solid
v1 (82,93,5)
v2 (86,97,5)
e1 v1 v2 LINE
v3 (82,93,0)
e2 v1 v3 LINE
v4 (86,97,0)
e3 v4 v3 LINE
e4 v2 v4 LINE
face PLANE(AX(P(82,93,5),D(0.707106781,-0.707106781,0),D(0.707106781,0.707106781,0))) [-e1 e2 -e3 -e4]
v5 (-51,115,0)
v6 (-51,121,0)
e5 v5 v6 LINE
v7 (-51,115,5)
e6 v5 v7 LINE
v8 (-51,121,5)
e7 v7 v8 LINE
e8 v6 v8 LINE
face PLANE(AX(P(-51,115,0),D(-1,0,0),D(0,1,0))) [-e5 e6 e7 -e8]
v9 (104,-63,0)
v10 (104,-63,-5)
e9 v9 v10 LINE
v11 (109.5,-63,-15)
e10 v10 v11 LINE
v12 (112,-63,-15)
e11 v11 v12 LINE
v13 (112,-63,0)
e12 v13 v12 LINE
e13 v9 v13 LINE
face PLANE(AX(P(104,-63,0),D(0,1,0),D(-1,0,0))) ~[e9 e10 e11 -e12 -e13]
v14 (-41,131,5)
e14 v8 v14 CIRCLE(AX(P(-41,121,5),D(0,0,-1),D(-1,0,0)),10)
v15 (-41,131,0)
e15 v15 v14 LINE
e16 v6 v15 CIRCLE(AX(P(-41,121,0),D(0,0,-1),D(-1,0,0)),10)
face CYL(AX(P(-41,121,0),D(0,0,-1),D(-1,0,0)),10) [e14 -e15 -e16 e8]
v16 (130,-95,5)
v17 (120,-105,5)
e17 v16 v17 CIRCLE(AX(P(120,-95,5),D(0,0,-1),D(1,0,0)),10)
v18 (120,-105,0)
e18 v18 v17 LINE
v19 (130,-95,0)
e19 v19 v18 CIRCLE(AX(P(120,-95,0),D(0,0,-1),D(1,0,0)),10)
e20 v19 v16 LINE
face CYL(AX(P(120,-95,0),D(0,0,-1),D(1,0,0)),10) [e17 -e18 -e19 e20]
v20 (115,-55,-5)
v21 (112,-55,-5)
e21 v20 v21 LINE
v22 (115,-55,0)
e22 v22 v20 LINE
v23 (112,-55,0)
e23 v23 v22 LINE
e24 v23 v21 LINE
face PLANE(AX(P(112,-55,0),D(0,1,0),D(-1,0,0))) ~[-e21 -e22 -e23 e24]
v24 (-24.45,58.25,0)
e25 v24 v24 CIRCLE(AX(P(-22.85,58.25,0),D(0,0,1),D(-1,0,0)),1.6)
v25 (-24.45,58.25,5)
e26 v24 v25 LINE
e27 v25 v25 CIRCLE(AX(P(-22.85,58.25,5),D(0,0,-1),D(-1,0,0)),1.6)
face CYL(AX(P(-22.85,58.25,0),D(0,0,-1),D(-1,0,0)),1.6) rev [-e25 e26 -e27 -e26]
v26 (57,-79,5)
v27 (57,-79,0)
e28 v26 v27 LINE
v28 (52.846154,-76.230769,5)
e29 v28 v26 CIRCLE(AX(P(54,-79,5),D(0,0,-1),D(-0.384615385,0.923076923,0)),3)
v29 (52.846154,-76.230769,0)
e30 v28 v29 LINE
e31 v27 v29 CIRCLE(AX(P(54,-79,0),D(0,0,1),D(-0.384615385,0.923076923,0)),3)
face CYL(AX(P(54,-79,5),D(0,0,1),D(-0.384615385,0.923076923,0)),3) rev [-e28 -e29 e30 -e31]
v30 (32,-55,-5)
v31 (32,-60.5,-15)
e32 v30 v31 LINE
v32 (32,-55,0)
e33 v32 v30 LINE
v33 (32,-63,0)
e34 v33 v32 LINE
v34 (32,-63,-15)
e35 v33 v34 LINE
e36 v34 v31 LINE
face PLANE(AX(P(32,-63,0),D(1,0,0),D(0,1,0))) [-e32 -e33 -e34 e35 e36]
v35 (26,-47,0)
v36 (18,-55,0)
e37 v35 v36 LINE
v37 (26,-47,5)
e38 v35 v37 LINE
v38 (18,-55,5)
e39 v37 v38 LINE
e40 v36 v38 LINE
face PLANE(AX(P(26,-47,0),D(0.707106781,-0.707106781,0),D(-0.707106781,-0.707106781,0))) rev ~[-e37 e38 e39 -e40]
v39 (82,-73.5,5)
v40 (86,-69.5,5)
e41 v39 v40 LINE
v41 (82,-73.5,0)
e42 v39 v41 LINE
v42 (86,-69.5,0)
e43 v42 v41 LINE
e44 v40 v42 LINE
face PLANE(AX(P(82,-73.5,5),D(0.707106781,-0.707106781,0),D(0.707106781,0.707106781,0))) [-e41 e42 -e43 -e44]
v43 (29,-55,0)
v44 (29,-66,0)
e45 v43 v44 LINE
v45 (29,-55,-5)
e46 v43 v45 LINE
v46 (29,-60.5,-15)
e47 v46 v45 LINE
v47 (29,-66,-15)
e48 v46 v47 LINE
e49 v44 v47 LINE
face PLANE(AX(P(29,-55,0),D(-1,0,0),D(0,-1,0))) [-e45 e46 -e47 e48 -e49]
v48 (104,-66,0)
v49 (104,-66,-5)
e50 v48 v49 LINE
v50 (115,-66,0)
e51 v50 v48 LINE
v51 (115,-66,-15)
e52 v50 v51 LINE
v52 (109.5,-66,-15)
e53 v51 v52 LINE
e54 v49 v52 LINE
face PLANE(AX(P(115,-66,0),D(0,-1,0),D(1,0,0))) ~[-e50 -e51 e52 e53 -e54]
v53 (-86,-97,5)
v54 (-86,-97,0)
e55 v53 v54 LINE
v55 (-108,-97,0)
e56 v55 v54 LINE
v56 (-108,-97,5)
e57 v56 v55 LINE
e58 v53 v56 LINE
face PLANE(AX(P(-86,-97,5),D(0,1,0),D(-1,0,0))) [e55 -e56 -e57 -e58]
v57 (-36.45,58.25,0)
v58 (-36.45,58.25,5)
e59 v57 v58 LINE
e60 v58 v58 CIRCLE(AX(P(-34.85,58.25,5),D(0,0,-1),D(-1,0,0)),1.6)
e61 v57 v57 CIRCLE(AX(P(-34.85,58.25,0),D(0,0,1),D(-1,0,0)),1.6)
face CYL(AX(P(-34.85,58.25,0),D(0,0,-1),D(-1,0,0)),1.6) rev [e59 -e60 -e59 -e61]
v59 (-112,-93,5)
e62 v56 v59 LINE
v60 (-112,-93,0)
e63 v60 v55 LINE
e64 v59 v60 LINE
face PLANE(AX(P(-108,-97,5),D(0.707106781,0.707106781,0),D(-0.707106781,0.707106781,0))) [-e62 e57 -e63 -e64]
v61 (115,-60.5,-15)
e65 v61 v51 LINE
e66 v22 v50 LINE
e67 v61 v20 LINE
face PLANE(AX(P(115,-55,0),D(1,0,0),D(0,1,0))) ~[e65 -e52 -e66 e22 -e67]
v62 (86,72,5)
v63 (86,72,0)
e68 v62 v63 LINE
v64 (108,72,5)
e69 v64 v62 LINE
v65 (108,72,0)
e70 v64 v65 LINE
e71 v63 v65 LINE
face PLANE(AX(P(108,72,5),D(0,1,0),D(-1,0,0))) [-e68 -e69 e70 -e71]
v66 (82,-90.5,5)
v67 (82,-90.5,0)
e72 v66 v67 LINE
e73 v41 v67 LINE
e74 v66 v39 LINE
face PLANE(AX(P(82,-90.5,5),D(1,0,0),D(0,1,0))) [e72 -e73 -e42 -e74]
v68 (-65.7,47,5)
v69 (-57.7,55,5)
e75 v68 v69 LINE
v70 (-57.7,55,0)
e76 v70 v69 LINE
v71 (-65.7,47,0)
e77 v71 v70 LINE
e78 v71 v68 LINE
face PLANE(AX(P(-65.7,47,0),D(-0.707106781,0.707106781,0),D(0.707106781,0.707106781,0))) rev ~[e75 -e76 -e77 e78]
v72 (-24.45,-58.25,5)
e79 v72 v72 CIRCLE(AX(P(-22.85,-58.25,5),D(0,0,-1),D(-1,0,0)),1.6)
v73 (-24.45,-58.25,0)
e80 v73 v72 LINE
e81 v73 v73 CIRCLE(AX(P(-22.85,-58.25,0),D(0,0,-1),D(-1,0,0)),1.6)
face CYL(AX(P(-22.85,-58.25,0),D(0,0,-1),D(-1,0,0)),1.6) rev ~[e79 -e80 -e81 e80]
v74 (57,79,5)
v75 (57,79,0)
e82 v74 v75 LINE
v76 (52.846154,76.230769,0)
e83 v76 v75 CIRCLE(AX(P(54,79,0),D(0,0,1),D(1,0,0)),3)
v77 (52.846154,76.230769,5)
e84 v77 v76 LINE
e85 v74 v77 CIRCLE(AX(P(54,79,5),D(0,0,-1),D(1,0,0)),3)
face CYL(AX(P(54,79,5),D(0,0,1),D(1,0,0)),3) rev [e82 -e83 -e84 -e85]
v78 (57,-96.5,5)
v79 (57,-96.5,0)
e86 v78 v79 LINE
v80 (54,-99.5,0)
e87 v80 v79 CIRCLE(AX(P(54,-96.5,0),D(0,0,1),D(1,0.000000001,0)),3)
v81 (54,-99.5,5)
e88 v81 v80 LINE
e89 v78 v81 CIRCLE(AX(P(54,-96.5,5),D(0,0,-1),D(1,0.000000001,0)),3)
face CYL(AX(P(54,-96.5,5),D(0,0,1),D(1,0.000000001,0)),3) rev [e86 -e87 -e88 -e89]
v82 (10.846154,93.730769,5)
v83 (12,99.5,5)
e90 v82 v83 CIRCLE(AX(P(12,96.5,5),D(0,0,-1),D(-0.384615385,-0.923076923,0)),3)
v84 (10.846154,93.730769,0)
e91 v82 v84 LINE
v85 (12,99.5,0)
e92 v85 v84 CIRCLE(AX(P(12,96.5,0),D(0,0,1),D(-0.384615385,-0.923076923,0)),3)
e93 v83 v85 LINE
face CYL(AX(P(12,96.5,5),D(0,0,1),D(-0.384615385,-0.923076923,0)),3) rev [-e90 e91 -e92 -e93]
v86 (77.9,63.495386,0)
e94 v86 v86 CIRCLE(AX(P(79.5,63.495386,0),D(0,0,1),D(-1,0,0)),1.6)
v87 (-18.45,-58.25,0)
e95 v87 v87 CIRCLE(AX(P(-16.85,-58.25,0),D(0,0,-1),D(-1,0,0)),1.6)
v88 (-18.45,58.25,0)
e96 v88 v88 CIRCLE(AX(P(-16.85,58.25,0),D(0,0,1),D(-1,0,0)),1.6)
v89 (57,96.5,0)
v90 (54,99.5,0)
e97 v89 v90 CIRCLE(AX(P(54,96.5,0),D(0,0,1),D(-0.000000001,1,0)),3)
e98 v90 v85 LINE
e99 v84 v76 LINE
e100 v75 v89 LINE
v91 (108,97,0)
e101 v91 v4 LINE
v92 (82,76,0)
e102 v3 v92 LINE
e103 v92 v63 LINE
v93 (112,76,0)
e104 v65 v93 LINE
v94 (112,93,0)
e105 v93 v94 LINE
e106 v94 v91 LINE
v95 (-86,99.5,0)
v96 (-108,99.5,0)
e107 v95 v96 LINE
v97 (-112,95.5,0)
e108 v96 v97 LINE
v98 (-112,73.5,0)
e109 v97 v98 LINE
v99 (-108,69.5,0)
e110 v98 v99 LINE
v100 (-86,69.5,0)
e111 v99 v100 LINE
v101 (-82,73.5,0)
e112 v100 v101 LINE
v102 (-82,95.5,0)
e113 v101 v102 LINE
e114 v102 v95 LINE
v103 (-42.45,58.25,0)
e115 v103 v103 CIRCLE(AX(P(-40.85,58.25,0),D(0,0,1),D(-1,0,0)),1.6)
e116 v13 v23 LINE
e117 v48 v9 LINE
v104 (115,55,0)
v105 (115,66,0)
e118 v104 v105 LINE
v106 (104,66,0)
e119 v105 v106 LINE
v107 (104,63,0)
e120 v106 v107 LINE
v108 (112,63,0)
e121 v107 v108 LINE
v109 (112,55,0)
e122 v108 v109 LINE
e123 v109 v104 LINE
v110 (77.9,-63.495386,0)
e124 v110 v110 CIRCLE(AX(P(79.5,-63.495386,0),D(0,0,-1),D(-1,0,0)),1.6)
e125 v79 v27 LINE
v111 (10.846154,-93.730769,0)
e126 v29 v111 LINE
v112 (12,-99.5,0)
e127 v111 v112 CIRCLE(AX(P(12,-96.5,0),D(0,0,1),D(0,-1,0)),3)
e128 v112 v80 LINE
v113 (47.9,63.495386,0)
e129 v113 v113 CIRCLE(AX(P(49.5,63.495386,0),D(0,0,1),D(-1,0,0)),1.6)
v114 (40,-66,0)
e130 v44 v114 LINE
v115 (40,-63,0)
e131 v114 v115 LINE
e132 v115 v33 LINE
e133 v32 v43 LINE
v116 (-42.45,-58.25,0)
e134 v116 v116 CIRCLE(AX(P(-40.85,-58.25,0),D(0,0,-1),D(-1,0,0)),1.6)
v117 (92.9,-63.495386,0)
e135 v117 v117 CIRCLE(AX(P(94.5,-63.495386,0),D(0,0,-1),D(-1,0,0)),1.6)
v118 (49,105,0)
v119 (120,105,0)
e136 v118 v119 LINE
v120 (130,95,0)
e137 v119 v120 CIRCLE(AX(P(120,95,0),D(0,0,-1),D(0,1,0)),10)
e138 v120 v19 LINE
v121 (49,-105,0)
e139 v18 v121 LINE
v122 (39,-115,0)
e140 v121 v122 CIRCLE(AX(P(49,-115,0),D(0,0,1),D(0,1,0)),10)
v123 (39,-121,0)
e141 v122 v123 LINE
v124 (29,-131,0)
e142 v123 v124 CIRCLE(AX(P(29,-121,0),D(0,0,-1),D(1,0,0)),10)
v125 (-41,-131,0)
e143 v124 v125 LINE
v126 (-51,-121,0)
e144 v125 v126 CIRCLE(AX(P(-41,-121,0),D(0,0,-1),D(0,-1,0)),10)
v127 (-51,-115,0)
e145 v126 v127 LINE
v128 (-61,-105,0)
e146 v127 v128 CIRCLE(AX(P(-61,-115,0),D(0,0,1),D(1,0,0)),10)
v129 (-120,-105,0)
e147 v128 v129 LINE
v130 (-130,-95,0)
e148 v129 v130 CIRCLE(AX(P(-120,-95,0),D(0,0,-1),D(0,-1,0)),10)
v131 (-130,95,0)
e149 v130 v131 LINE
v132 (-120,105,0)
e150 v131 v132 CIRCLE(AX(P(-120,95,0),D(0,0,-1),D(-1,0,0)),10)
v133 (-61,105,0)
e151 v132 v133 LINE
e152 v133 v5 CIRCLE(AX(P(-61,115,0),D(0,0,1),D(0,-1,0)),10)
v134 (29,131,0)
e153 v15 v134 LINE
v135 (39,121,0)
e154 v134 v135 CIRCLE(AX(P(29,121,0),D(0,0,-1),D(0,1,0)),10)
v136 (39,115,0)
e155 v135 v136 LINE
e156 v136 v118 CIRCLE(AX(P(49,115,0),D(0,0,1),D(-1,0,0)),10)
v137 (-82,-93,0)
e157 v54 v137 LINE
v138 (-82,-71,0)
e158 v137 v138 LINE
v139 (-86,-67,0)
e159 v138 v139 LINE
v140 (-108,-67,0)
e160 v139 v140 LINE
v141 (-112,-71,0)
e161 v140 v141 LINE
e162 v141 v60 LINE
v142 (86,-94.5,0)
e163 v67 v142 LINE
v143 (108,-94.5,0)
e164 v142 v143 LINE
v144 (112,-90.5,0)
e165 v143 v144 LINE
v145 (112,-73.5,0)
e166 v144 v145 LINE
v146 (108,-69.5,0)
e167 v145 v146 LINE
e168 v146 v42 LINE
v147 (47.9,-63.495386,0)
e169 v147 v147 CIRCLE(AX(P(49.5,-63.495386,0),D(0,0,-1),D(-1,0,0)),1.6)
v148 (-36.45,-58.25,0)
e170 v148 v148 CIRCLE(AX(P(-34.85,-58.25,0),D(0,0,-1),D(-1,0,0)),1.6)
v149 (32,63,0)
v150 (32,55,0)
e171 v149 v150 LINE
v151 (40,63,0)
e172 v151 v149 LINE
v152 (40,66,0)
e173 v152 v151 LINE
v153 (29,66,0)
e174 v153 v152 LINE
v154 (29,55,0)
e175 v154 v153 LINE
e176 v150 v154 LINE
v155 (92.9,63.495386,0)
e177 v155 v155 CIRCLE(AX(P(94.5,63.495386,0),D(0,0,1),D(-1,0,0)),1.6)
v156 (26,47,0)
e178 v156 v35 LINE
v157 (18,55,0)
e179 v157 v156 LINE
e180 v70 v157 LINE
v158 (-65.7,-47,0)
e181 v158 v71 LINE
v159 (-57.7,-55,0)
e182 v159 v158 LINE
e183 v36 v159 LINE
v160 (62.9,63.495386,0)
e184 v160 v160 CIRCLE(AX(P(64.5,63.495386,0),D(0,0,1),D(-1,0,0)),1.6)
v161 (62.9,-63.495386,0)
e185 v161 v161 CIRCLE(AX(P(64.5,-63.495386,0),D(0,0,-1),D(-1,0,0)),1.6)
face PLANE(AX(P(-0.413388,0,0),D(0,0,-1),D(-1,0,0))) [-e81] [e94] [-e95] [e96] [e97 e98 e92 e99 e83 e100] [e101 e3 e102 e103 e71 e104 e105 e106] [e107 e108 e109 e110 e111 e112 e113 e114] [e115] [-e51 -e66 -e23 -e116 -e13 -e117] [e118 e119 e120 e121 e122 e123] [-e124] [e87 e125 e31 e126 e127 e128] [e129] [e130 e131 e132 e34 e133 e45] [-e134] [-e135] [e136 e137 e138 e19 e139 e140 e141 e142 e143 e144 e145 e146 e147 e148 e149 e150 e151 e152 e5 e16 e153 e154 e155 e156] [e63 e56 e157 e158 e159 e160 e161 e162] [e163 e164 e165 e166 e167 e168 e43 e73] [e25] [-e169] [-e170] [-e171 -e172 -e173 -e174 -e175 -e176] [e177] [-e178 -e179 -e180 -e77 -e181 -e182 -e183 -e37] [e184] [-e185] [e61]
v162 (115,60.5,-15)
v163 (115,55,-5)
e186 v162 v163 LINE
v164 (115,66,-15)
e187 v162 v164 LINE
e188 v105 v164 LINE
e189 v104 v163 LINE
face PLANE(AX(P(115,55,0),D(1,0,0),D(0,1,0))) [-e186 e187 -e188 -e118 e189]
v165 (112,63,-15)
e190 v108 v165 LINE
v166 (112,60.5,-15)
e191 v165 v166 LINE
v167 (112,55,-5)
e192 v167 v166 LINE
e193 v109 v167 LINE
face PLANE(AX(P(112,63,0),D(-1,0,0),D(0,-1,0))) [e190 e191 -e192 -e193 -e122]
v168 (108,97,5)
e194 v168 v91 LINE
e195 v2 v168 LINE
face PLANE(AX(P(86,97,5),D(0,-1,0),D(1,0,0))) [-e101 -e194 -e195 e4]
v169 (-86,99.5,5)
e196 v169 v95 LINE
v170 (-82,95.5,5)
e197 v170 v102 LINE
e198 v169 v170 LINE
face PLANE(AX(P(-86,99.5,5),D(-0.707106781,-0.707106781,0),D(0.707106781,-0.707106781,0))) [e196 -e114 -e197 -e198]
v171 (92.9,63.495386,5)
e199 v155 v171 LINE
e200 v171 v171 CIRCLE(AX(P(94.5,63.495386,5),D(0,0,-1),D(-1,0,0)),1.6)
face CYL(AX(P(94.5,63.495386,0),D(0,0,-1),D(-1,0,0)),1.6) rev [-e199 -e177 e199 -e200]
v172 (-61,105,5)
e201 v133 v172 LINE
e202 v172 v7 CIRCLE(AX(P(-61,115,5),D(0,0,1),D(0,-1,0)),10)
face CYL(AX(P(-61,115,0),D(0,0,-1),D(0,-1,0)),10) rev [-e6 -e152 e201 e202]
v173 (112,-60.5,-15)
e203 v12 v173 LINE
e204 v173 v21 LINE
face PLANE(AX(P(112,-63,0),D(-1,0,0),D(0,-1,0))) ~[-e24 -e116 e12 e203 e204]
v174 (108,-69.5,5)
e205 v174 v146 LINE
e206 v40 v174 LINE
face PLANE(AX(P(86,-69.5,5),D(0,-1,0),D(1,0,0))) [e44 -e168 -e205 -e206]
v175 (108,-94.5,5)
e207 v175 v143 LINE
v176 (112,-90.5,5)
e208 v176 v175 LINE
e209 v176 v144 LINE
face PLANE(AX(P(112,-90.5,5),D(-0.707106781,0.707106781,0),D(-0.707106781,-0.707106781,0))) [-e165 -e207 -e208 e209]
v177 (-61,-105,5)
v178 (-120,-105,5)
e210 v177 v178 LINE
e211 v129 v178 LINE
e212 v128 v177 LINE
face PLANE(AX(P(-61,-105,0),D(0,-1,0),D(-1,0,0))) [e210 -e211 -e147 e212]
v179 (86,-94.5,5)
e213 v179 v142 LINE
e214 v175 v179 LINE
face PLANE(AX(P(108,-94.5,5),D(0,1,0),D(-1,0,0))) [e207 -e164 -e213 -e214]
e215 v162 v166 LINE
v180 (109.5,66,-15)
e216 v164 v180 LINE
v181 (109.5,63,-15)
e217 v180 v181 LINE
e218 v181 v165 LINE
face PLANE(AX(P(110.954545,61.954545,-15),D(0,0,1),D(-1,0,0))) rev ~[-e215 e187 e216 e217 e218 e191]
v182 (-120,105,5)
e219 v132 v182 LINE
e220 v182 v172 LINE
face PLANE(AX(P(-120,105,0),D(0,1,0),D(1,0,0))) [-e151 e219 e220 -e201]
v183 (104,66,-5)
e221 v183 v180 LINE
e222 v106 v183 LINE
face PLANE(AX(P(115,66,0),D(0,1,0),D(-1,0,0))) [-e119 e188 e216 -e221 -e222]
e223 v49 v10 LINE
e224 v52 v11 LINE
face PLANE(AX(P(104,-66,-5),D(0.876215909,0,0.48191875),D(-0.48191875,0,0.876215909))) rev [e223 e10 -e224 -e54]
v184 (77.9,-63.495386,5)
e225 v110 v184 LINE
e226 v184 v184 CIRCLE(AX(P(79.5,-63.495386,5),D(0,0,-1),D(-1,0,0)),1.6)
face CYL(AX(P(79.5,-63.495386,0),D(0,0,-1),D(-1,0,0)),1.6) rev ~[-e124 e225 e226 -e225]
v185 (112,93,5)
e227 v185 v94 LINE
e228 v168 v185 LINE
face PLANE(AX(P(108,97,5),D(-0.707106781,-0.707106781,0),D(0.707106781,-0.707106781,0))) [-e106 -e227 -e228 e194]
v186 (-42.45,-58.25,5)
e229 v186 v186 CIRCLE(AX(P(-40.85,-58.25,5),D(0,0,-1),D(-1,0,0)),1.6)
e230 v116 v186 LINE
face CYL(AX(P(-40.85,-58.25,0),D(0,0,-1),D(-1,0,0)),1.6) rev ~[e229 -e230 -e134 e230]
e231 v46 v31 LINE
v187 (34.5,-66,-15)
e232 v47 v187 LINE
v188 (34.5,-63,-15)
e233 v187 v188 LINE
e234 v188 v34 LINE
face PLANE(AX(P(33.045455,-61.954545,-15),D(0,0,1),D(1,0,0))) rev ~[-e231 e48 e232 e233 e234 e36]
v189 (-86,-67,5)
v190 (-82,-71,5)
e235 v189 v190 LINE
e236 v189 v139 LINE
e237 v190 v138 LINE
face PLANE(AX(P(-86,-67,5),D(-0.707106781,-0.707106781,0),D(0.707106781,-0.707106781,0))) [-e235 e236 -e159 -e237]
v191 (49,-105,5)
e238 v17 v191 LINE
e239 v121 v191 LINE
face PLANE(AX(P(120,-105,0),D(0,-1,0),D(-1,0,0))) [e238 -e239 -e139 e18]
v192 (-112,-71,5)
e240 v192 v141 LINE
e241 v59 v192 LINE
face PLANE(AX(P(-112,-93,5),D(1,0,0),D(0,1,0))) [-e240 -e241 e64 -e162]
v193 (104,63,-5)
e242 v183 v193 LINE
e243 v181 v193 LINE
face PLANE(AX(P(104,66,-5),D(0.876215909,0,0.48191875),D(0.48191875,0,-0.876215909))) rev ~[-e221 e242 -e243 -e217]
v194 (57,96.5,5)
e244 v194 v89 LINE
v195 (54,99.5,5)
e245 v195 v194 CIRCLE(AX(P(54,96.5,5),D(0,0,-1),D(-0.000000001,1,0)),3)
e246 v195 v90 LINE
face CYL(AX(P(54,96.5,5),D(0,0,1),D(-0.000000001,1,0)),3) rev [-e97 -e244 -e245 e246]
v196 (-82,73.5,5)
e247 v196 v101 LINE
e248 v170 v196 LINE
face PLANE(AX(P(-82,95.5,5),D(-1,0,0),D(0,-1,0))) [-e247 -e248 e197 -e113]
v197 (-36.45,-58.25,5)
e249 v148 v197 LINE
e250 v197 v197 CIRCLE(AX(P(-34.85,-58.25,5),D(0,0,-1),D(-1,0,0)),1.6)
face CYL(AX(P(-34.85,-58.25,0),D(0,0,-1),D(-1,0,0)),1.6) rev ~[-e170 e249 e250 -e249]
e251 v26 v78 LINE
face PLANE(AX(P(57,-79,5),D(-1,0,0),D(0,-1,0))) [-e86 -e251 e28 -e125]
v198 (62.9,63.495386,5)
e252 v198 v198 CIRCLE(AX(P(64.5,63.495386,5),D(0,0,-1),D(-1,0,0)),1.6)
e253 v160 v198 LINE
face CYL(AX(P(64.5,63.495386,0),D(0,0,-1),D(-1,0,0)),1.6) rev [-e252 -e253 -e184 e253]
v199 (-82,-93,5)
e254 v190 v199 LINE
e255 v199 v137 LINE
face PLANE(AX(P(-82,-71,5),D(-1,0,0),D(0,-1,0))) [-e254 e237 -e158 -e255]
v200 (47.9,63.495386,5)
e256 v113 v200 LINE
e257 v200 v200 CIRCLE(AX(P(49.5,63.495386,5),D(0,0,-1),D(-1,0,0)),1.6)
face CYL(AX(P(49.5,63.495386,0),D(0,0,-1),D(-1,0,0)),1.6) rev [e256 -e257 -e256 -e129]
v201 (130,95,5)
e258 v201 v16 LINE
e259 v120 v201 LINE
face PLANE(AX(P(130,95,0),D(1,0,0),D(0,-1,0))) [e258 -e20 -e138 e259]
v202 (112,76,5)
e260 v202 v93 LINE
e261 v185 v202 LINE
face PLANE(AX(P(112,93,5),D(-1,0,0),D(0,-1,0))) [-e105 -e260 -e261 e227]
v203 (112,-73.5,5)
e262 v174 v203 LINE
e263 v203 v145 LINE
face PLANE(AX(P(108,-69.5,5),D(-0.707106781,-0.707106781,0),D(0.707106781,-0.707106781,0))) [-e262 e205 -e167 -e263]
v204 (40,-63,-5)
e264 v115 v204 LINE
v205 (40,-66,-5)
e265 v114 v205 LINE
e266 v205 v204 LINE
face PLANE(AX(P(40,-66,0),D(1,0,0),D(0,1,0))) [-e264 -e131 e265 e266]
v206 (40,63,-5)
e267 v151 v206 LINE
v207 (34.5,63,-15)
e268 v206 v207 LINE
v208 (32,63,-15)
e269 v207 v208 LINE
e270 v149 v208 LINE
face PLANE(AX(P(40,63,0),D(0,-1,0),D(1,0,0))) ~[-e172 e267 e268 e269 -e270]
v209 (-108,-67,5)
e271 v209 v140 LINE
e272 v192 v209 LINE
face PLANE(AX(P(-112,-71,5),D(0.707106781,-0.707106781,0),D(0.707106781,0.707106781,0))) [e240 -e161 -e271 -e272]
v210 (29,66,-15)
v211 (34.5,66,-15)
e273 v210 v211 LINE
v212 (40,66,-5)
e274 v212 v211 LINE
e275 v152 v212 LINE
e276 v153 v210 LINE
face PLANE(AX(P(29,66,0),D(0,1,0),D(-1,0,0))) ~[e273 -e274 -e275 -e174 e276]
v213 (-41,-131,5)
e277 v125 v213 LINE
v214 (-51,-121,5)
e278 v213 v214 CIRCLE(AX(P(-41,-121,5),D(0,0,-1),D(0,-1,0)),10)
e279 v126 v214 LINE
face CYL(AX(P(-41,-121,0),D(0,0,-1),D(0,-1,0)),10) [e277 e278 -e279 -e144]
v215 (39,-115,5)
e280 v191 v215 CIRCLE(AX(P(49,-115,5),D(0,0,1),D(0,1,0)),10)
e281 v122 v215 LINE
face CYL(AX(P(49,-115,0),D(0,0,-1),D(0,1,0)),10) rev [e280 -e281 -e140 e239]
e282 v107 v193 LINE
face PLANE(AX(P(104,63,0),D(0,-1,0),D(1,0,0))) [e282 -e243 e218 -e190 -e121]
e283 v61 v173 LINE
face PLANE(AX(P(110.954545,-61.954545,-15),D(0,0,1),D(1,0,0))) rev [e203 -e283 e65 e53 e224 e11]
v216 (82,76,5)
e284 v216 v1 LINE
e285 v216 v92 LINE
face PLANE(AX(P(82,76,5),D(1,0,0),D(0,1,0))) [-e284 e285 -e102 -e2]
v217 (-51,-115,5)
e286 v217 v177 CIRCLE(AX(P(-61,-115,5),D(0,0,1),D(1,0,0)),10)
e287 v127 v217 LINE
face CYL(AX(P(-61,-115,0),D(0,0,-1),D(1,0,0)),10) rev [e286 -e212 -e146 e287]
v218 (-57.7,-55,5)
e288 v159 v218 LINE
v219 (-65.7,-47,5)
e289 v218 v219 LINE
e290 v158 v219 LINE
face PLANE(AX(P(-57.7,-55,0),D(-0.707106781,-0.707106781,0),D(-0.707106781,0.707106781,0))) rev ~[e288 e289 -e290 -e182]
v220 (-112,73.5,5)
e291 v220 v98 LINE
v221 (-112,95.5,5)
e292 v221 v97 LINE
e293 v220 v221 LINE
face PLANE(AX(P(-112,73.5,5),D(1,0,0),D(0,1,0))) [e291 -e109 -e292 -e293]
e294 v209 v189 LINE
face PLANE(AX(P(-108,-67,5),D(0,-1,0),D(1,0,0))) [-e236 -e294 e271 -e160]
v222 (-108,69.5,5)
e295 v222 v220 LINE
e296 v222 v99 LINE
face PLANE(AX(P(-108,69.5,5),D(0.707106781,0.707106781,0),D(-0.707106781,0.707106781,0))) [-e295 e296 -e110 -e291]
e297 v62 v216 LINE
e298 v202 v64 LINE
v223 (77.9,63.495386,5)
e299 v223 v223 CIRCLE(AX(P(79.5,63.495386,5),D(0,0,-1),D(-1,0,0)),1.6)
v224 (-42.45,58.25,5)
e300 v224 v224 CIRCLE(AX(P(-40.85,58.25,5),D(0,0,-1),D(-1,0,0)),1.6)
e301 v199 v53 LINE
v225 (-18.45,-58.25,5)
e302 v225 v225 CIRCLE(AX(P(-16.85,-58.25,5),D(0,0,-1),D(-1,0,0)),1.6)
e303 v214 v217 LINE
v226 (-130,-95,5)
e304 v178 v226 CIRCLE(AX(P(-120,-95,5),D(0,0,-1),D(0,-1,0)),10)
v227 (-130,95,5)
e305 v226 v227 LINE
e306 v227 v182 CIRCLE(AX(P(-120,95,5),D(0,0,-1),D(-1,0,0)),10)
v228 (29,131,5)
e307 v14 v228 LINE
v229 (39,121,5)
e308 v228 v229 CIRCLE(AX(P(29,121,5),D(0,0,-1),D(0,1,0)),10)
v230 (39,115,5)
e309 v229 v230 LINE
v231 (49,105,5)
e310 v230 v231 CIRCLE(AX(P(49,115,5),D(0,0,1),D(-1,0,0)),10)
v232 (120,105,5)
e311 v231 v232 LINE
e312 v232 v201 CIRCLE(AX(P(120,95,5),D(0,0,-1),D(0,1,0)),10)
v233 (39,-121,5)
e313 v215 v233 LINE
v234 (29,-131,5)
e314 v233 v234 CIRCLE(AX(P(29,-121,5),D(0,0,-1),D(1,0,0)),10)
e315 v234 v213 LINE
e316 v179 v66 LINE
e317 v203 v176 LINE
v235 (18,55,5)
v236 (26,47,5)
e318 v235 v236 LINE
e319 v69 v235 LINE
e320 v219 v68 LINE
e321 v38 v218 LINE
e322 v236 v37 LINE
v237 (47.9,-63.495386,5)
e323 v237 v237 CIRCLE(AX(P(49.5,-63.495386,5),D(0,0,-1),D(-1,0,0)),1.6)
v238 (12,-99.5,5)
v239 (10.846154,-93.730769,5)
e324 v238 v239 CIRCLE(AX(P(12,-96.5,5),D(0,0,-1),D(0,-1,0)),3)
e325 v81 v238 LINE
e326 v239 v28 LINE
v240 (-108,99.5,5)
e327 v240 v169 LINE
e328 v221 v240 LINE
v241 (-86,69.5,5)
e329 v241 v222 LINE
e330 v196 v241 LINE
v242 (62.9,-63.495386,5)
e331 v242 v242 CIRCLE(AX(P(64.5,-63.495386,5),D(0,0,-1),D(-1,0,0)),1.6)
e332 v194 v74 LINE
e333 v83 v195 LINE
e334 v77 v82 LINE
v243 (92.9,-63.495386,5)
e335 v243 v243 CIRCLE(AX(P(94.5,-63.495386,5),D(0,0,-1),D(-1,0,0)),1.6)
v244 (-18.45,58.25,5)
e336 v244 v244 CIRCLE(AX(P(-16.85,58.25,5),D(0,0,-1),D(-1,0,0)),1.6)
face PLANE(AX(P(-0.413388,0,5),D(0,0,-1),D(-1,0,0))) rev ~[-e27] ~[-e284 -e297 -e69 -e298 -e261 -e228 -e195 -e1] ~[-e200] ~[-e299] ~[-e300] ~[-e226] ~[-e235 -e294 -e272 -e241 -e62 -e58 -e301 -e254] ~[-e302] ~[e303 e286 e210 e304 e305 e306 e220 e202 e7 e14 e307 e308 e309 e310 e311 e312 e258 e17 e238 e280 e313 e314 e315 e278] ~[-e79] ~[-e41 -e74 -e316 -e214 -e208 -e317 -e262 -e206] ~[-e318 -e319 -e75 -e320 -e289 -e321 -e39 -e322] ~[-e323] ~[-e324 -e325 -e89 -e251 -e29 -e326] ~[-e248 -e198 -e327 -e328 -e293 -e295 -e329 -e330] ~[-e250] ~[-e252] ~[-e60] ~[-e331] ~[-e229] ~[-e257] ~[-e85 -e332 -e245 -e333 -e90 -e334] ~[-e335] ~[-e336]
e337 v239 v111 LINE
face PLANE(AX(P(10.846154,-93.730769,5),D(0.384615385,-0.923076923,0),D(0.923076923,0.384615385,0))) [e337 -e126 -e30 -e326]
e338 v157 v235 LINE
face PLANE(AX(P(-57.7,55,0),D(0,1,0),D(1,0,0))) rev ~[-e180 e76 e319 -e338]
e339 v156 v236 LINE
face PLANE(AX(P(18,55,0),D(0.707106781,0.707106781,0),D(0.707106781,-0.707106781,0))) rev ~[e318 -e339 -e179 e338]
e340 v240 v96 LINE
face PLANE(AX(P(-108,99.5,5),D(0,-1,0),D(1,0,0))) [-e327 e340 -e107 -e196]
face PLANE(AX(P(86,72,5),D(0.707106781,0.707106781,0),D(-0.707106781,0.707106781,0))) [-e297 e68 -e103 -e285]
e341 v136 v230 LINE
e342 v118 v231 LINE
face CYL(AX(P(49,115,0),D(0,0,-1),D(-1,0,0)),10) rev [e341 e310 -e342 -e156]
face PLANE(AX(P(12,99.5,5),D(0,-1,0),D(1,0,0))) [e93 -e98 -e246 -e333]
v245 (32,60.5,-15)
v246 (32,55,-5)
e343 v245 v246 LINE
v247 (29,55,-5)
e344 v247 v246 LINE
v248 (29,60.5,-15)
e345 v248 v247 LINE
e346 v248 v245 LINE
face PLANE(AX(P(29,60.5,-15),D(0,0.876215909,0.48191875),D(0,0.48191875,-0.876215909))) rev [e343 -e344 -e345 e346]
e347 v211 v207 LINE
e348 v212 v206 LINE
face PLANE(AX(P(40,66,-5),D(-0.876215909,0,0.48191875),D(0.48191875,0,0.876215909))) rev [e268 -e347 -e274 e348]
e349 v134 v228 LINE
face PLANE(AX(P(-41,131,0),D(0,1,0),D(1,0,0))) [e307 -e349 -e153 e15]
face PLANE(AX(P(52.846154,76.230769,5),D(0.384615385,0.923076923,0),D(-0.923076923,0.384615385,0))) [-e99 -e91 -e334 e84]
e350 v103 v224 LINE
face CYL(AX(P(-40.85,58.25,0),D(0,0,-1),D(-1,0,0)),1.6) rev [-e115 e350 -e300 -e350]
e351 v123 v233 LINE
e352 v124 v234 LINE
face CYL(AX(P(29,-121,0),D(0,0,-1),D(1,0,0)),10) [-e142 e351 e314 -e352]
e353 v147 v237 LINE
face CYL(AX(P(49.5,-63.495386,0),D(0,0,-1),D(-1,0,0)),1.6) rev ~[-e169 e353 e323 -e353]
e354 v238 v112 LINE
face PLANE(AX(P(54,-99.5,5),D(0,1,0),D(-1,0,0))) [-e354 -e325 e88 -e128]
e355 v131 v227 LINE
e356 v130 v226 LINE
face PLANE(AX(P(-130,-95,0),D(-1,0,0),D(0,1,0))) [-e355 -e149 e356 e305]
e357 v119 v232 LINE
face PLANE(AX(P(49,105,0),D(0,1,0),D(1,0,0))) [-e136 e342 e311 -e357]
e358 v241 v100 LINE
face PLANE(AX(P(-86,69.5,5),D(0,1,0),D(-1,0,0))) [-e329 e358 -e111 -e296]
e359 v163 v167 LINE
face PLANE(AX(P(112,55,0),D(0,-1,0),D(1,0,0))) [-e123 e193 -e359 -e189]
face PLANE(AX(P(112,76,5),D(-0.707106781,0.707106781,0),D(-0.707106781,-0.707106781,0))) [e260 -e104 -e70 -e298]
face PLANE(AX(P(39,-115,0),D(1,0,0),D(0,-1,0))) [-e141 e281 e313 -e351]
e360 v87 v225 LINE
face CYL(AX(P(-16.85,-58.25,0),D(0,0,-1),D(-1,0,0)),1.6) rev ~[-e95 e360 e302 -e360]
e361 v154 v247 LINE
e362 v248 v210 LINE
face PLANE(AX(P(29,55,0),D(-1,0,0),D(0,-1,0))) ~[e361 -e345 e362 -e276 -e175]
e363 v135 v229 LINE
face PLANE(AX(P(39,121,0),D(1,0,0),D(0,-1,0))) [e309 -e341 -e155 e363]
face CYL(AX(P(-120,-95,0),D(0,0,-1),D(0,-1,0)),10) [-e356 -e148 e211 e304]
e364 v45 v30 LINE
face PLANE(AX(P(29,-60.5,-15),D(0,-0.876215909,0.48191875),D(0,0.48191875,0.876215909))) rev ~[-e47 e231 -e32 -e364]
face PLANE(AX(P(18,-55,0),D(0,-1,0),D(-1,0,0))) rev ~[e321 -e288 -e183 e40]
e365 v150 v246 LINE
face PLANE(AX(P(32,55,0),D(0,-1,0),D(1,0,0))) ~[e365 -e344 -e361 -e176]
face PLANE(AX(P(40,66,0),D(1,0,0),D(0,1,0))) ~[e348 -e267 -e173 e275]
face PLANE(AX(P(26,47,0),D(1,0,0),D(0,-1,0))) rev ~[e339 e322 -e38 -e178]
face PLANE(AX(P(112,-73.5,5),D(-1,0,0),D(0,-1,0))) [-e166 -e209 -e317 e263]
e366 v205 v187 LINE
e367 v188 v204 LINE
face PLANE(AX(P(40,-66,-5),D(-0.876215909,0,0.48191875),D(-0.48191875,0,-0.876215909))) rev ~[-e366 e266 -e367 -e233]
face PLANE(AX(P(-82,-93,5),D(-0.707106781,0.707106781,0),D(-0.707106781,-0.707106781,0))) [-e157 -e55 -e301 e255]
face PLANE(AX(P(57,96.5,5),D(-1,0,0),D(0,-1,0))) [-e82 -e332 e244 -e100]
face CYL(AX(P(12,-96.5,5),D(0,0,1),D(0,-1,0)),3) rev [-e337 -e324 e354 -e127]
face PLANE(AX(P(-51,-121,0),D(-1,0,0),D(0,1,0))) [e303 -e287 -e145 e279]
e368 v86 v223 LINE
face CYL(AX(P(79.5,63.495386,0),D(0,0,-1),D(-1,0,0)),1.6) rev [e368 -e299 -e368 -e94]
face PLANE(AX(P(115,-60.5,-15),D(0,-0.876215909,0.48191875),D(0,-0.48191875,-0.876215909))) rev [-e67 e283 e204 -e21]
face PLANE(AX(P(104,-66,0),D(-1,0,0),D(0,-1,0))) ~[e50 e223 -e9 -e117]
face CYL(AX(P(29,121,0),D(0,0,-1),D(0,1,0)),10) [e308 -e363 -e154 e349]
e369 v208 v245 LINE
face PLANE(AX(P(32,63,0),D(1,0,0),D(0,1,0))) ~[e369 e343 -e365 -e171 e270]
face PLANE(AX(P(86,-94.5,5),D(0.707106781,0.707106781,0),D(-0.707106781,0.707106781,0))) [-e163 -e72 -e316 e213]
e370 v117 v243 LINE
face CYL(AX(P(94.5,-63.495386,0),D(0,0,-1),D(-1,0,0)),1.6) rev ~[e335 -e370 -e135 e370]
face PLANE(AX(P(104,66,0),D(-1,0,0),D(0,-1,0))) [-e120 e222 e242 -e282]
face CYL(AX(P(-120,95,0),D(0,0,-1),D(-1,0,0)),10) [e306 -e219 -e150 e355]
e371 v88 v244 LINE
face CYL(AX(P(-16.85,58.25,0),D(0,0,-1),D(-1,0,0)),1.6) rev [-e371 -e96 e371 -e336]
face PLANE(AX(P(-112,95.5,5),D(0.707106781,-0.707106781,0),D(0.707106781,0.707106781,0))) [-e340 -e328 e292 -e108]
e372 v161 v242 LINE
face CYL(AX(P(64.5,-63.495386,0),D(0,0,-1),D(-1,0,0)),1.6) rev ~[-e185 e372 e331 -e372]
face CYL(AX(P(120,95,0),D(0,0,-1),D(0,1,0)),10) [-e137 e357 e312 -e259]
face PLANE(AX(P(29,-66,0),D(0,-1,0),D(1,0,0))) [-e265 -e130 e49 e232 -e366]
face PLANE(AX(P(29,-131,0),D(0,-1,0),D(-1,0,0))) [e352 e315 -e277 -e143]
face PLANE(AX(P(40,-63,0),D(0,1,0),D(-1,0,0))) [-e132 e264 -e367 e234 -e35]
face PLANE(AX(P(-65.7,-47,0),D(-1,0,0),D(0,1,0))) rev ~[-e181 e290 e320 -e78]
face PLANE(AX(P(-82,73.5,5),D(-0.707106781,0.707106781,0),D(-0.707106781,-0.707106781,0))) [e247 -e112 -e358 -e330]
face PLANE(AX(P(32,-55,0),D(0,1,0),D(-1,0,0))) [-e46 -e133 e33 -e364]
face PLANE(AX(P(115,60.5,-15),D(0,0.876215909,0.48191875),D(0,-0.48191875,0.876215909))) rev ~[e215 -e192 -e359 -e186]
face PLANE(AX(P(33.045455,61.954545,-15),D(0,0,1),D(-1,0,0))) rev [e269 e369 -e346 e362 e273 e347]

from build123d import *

# Parameters (mm, degrees)
EXTRUDE_1_DEPTH       = 5
CUT_EXTRUDE_1_DEPTH   = 185.623942109
CUT_EXTRUDE_2_DEPTH   = 185.623942109
EXTRUDE_2_DEPTH       = 15
CUT_EXTRUDE_3_DEPTH   = 10
CUT_EXTRUDE_4_DEPTH   = 10
MIRROR_2_COPY_1_DEPTH = 15
MIRROR_2_COPY_2_DEPTH = 10
MIRROR_2_COPY_3_DEPTH = 10
SKETCH_7_R            = 1.6
CUT_EXTRUDE_5_DEPTH   = 186.16479147
SKETCH_8_R            = 1.6
CUT_EXTRUDE_6_DEPTH   = 186.16479147


with BuildPart() as part:
    # 草图1 → 凸台-拉伸1 (new body)
    with BuildSketch(Plane.XY):
        with BuildLine():
            Line((-51, 115), (-51, 121))
            ThreePointArc((-51, 121), (-48.071067812, 128.071067812), (-41, 131))
            Line((-41, 131), (29, 131))
            ThreePointArc((29, 131), (36.071067812, 128.071067812), (39, 121))
            Line((39, 121), (39, 115))
            ThreePointArc((39, 115), (41.928932188, 107.928932188), (49, 105))
            Line((49, 105), (120, 105))
            ThreePointArc((120, 105), (127.071067812, 102.071067812), (130, 95))
            Line((130, 95), (130, -95))
            ThreePointArc((130, -95), (127.071067812, -102.071067812), (120, -105))
            Line((120, -105), (49, -105))
            ThreePointArc((49, -105), (41.928932188, -107.928932188), (39, -115))
            Line((39, -115), (39, -121))
            ThreePointArc((39, -121), (36.071067812, -128.071067812), (29, -131))
            Line((29, -131), (-41, -131))
            ThreePointArc((-41, -131), (-48.071067812, -128.071067812), (-51, -121))
            Line((-51, -121), (-51, -115))
            ThreePointArc((-51, -115), (-53.928932188, -107.928932188), (-61, -105))
            Line((-61, -105), (-120, -105))
            ThreePointArc((-120, -105), (-127.071067812, -102.071067812), (-130, -95))
            Line((-130, -95), (-130, 95))
            ThreePointArc((-130, 95), (-127.071067812, 102.071067812), (-120, 105))
            Line((-120, 105), (-61, 105))
            ThreePointArc((-61, 105), (-53.928932188, 107.928932188), (-51, 115))
        make_face()
    extrude(amount=EXTRUDE_1_DEPTH)

    # 草图2 → 切除-拉伸1 (cut, through all)
    with BuildSketch(Plane.XY.offset(5)):
        with BuildLine():
            Line((10.846153846, -93.730769231), (52.846153846, -76.230769231))
            ThreePointArc((52.846153846, -76.230769231), (55.664100589, -76.503849117), (57, -79))
            Line((57, -79), (57, -96.5))
            ThreePointArc((57, -96.5), (56.121320344, -98.621320344), (54, -99.5))
            Line((54, -99.5), (12, -99.5))
            ThreePointArc((12, -99.5), (9.058257973, -97.088348405), (10.846153846, -93.730769231))
        make_face()
        Polygon((-108, 99.5), (-86, 99.5), (-82, 95.5), (-82, 73.5), (-86, 69.5), (-108, 69.5), (-112, 73.5), (-112, 95.5), align=None)
        Polygon((-108, -67), (-86, -67), (-82, -71), (-82, -93), (-86, -97), (-108, -97), (-112, -93), (-112, -71), align=None)
        Polygon((86, 97), (108, 97), (112, 93), (112, 76), (108, 72), (86, 72), (82, 76), (82, 93), align=None)
        Polygon((86, -69.5), (108, -69.5), (112, -73.5), (112, -90.5), (108, -94.5), (86, -94.5), (82, -90.5), (82, -73.5), align=None)
        with BuildLine():
            Line((12, 99.5), (54, 99.5))
            ThreePointArc((54, 99.5), (56.121320344, 98.621320344), (57, 96.5))
            Line((57, 96.5), (57, 79))
            ThreePointArc((57, 79), (55.664100589, 76.503849117), (52.846153846, 76.230769231))
            Line((52.846153846, 76.230769231), (10.846153846, 93.730769231))
            ThreePointArc((10.846153846, 93.730769231), (9.058257973, 97.088348405), (12, 99.5))
        make_face()
    extrude(amount=-CUT_EXTRUDE_1_DEPTH, mode=Mode.SUBTRACT)

    # 草图3 → 切除-拉伸2 (cut, through all)
    with BuildSketch(Plane(origin=(0, 0, 0), x_dir=(-1, 0, 0), z_dir=(0, 0, -1))):
        Polygon((57.7, 55), (-18, 55), (-26, 47), (-26, -47), (-18, -55), (57.7, -55), (65.7, -47), (65.7, 47), align=None)
    extrude(amount=-CUT_EXTRUDE_2_DEPTH, mode=Mode.SUBTRACT)

    # 草图4 → 凸台-拉伸2 (add)
    with BuildSketch(Plane(origin=(0, 0, 0), x_dir=(-1, 0, 0), z_dir=(0, 0, -1))):
        Polygon((-29, -55), (-29, -66), (-40, -66), (-40, -63), (-32, -63), (-32, -55), align=None)
    extrude_2 = extrude(amount=EXTRUDE_2_DEPTH)

    # 草图5 → 切除-拉伸3 (cut)
    with BuildSketch(Plane.XZ.offset(66)):
        Polygon((40, -5), (34.5, -15), (40, -15), align=None)
    cut_extrude_3 = extrude(amount=-CUT_EXTRUDE_3_DEPTH, mode=Mode.SUBTRACT)

    # 草图6 → 切除-拉伸4 (cut)
    with BuildSketch(Plane.ZY.offset(-29)):
        Polygon((-15, -60.5), (-5, -55), (-15, -55), align=None)
    cut_extrude_4 = extrude(amount=-CUT_EXTRUDE_4_DEPTH, mode=Mode.SUBTRACT)

    # 镜向1: 凸台-拉伸2, 切除-拉伸3, 切除-拉伸4 across plane
    add(extrude_2.mirror(Plane.ZY.offset(-72)))
    add(cut_extrude_3.mirror(Plane.ZY.offset(-72)), mode=Mode.SUBTRACT)
    add(cut_extrude_4.mirror(Plane.ZY.offset(-72)), mode=Mode.SUBTRACT)

    # 镜向2: 凸台-拉伸2, 切除-拉伸3, 切除-拉伸4 across plane
    add(extrude_2.mirror(Plane.ZX))
    add(cut_extrude_3.mirror(Plane.ZX), mode=Mode.SUBTRACT)
    add(cut_extrude_4.mirror(Plane.ZX), mode=Mode.SUBTRACT)

    # 镜向2 copy 1 sketch → 镜向2 copy 1 (add)
    with BuildSketch(Plane(origin=(144, 0, 0), x_dir=(1, 0, 0), z_dir=(0, 0, -1))):
        Polygon((-29, -55), (-29, -66), (-40, -66), (-40, -63), (-32, -63), (-32, -55), align=None)
    extrude(amount=MIRROR_2_COPY_1_DEPTH)

    # 镜向2 copy 2 sketch → 镜向2 copy 2 (cut)
    with BuildSketch(Plane(origin=(144, 66, 0), x_dir=(-1, 0, 0), z_dir=(0, 1, 0))):
        Polygon((40, -5), (34.5, -15), (40, -15), align=None)
    extrude(amount=-MIRROR_2_COPY_2_DEPTH, mode=Mode.SUBTRACT)

    # 镜向2 copy 3 sketch → 镜向2 copy 3 (cut)
    with BuildSketch(Plane(origin=(115, 0, 0), x_dir=(0, 0, 1), z_dir=(1, 0, 0))):
        Polygon((-15, -60.5), (-5, -55), (-15, -55), align=None)
    extrude(amount=-MIRROR_2_COPY_3_DEPTH, mode=Mode.SUBTRACT)

    # 草图7 → 切除-拉伸5 (cut, through all)
    with BuildSketch(Plane(origin=(0, 0, 0), x_dir=(-1, 0, 0), z_dir=(0, 0, -1))):
        with Locations((16.85, -58.25)):
            Circle(SKETCH_7_R)
        with Locations((22.85, -58.25)):
            Circle(SKETCH_7_R)
        with Locations((40.85, -58.25)):
            Circle(SKETCH_7_R)
        with Locations((34.85, -58.25)):
            Circle(SKETCH_7_R)
    cut_extrude_5 = extrude(amount=-CUT_EXTRUDE_5_DEPTH, mode=Mode.SUBTRACT)

    # 镜向3: 切除-拉伸5 across plane
    add(cut_extrude_5.mirror(Plane.ZX), mode=Mode.SUBTRACT)

    # 草图8 → 切除-拉伸6 (cut, through all)
    with BuildSketch(Plane(origin=(0, 0, 0), x_dir=(-1, 0, 0), z_dir=(0, 0, -1))):
        with Locations((-49.5, -63.495385915)):
            Circle(SKETCH_8_R)
        with Locations((-64.5, -63.495385915)):
            Circle(SKETCH_8_R)
        with Locations((-79.5, -63.495385915)):
            Circle(SKETCH_8_R)
        with Locations((-94.5, -63.495385915)):
            Circle(SKETCH_8_R)
    cut_extrude_6 = extrude(amount=-CUT_EXTRUDE_6_DEPTH, mode=Mode.SUBTRACT)

    # 镜向4: 切除-拉伸6 across plane
    add(cut_extrude_6.mirror(Plane.ZX), mode=Mode.SUBTRACT)


solid = part.part
